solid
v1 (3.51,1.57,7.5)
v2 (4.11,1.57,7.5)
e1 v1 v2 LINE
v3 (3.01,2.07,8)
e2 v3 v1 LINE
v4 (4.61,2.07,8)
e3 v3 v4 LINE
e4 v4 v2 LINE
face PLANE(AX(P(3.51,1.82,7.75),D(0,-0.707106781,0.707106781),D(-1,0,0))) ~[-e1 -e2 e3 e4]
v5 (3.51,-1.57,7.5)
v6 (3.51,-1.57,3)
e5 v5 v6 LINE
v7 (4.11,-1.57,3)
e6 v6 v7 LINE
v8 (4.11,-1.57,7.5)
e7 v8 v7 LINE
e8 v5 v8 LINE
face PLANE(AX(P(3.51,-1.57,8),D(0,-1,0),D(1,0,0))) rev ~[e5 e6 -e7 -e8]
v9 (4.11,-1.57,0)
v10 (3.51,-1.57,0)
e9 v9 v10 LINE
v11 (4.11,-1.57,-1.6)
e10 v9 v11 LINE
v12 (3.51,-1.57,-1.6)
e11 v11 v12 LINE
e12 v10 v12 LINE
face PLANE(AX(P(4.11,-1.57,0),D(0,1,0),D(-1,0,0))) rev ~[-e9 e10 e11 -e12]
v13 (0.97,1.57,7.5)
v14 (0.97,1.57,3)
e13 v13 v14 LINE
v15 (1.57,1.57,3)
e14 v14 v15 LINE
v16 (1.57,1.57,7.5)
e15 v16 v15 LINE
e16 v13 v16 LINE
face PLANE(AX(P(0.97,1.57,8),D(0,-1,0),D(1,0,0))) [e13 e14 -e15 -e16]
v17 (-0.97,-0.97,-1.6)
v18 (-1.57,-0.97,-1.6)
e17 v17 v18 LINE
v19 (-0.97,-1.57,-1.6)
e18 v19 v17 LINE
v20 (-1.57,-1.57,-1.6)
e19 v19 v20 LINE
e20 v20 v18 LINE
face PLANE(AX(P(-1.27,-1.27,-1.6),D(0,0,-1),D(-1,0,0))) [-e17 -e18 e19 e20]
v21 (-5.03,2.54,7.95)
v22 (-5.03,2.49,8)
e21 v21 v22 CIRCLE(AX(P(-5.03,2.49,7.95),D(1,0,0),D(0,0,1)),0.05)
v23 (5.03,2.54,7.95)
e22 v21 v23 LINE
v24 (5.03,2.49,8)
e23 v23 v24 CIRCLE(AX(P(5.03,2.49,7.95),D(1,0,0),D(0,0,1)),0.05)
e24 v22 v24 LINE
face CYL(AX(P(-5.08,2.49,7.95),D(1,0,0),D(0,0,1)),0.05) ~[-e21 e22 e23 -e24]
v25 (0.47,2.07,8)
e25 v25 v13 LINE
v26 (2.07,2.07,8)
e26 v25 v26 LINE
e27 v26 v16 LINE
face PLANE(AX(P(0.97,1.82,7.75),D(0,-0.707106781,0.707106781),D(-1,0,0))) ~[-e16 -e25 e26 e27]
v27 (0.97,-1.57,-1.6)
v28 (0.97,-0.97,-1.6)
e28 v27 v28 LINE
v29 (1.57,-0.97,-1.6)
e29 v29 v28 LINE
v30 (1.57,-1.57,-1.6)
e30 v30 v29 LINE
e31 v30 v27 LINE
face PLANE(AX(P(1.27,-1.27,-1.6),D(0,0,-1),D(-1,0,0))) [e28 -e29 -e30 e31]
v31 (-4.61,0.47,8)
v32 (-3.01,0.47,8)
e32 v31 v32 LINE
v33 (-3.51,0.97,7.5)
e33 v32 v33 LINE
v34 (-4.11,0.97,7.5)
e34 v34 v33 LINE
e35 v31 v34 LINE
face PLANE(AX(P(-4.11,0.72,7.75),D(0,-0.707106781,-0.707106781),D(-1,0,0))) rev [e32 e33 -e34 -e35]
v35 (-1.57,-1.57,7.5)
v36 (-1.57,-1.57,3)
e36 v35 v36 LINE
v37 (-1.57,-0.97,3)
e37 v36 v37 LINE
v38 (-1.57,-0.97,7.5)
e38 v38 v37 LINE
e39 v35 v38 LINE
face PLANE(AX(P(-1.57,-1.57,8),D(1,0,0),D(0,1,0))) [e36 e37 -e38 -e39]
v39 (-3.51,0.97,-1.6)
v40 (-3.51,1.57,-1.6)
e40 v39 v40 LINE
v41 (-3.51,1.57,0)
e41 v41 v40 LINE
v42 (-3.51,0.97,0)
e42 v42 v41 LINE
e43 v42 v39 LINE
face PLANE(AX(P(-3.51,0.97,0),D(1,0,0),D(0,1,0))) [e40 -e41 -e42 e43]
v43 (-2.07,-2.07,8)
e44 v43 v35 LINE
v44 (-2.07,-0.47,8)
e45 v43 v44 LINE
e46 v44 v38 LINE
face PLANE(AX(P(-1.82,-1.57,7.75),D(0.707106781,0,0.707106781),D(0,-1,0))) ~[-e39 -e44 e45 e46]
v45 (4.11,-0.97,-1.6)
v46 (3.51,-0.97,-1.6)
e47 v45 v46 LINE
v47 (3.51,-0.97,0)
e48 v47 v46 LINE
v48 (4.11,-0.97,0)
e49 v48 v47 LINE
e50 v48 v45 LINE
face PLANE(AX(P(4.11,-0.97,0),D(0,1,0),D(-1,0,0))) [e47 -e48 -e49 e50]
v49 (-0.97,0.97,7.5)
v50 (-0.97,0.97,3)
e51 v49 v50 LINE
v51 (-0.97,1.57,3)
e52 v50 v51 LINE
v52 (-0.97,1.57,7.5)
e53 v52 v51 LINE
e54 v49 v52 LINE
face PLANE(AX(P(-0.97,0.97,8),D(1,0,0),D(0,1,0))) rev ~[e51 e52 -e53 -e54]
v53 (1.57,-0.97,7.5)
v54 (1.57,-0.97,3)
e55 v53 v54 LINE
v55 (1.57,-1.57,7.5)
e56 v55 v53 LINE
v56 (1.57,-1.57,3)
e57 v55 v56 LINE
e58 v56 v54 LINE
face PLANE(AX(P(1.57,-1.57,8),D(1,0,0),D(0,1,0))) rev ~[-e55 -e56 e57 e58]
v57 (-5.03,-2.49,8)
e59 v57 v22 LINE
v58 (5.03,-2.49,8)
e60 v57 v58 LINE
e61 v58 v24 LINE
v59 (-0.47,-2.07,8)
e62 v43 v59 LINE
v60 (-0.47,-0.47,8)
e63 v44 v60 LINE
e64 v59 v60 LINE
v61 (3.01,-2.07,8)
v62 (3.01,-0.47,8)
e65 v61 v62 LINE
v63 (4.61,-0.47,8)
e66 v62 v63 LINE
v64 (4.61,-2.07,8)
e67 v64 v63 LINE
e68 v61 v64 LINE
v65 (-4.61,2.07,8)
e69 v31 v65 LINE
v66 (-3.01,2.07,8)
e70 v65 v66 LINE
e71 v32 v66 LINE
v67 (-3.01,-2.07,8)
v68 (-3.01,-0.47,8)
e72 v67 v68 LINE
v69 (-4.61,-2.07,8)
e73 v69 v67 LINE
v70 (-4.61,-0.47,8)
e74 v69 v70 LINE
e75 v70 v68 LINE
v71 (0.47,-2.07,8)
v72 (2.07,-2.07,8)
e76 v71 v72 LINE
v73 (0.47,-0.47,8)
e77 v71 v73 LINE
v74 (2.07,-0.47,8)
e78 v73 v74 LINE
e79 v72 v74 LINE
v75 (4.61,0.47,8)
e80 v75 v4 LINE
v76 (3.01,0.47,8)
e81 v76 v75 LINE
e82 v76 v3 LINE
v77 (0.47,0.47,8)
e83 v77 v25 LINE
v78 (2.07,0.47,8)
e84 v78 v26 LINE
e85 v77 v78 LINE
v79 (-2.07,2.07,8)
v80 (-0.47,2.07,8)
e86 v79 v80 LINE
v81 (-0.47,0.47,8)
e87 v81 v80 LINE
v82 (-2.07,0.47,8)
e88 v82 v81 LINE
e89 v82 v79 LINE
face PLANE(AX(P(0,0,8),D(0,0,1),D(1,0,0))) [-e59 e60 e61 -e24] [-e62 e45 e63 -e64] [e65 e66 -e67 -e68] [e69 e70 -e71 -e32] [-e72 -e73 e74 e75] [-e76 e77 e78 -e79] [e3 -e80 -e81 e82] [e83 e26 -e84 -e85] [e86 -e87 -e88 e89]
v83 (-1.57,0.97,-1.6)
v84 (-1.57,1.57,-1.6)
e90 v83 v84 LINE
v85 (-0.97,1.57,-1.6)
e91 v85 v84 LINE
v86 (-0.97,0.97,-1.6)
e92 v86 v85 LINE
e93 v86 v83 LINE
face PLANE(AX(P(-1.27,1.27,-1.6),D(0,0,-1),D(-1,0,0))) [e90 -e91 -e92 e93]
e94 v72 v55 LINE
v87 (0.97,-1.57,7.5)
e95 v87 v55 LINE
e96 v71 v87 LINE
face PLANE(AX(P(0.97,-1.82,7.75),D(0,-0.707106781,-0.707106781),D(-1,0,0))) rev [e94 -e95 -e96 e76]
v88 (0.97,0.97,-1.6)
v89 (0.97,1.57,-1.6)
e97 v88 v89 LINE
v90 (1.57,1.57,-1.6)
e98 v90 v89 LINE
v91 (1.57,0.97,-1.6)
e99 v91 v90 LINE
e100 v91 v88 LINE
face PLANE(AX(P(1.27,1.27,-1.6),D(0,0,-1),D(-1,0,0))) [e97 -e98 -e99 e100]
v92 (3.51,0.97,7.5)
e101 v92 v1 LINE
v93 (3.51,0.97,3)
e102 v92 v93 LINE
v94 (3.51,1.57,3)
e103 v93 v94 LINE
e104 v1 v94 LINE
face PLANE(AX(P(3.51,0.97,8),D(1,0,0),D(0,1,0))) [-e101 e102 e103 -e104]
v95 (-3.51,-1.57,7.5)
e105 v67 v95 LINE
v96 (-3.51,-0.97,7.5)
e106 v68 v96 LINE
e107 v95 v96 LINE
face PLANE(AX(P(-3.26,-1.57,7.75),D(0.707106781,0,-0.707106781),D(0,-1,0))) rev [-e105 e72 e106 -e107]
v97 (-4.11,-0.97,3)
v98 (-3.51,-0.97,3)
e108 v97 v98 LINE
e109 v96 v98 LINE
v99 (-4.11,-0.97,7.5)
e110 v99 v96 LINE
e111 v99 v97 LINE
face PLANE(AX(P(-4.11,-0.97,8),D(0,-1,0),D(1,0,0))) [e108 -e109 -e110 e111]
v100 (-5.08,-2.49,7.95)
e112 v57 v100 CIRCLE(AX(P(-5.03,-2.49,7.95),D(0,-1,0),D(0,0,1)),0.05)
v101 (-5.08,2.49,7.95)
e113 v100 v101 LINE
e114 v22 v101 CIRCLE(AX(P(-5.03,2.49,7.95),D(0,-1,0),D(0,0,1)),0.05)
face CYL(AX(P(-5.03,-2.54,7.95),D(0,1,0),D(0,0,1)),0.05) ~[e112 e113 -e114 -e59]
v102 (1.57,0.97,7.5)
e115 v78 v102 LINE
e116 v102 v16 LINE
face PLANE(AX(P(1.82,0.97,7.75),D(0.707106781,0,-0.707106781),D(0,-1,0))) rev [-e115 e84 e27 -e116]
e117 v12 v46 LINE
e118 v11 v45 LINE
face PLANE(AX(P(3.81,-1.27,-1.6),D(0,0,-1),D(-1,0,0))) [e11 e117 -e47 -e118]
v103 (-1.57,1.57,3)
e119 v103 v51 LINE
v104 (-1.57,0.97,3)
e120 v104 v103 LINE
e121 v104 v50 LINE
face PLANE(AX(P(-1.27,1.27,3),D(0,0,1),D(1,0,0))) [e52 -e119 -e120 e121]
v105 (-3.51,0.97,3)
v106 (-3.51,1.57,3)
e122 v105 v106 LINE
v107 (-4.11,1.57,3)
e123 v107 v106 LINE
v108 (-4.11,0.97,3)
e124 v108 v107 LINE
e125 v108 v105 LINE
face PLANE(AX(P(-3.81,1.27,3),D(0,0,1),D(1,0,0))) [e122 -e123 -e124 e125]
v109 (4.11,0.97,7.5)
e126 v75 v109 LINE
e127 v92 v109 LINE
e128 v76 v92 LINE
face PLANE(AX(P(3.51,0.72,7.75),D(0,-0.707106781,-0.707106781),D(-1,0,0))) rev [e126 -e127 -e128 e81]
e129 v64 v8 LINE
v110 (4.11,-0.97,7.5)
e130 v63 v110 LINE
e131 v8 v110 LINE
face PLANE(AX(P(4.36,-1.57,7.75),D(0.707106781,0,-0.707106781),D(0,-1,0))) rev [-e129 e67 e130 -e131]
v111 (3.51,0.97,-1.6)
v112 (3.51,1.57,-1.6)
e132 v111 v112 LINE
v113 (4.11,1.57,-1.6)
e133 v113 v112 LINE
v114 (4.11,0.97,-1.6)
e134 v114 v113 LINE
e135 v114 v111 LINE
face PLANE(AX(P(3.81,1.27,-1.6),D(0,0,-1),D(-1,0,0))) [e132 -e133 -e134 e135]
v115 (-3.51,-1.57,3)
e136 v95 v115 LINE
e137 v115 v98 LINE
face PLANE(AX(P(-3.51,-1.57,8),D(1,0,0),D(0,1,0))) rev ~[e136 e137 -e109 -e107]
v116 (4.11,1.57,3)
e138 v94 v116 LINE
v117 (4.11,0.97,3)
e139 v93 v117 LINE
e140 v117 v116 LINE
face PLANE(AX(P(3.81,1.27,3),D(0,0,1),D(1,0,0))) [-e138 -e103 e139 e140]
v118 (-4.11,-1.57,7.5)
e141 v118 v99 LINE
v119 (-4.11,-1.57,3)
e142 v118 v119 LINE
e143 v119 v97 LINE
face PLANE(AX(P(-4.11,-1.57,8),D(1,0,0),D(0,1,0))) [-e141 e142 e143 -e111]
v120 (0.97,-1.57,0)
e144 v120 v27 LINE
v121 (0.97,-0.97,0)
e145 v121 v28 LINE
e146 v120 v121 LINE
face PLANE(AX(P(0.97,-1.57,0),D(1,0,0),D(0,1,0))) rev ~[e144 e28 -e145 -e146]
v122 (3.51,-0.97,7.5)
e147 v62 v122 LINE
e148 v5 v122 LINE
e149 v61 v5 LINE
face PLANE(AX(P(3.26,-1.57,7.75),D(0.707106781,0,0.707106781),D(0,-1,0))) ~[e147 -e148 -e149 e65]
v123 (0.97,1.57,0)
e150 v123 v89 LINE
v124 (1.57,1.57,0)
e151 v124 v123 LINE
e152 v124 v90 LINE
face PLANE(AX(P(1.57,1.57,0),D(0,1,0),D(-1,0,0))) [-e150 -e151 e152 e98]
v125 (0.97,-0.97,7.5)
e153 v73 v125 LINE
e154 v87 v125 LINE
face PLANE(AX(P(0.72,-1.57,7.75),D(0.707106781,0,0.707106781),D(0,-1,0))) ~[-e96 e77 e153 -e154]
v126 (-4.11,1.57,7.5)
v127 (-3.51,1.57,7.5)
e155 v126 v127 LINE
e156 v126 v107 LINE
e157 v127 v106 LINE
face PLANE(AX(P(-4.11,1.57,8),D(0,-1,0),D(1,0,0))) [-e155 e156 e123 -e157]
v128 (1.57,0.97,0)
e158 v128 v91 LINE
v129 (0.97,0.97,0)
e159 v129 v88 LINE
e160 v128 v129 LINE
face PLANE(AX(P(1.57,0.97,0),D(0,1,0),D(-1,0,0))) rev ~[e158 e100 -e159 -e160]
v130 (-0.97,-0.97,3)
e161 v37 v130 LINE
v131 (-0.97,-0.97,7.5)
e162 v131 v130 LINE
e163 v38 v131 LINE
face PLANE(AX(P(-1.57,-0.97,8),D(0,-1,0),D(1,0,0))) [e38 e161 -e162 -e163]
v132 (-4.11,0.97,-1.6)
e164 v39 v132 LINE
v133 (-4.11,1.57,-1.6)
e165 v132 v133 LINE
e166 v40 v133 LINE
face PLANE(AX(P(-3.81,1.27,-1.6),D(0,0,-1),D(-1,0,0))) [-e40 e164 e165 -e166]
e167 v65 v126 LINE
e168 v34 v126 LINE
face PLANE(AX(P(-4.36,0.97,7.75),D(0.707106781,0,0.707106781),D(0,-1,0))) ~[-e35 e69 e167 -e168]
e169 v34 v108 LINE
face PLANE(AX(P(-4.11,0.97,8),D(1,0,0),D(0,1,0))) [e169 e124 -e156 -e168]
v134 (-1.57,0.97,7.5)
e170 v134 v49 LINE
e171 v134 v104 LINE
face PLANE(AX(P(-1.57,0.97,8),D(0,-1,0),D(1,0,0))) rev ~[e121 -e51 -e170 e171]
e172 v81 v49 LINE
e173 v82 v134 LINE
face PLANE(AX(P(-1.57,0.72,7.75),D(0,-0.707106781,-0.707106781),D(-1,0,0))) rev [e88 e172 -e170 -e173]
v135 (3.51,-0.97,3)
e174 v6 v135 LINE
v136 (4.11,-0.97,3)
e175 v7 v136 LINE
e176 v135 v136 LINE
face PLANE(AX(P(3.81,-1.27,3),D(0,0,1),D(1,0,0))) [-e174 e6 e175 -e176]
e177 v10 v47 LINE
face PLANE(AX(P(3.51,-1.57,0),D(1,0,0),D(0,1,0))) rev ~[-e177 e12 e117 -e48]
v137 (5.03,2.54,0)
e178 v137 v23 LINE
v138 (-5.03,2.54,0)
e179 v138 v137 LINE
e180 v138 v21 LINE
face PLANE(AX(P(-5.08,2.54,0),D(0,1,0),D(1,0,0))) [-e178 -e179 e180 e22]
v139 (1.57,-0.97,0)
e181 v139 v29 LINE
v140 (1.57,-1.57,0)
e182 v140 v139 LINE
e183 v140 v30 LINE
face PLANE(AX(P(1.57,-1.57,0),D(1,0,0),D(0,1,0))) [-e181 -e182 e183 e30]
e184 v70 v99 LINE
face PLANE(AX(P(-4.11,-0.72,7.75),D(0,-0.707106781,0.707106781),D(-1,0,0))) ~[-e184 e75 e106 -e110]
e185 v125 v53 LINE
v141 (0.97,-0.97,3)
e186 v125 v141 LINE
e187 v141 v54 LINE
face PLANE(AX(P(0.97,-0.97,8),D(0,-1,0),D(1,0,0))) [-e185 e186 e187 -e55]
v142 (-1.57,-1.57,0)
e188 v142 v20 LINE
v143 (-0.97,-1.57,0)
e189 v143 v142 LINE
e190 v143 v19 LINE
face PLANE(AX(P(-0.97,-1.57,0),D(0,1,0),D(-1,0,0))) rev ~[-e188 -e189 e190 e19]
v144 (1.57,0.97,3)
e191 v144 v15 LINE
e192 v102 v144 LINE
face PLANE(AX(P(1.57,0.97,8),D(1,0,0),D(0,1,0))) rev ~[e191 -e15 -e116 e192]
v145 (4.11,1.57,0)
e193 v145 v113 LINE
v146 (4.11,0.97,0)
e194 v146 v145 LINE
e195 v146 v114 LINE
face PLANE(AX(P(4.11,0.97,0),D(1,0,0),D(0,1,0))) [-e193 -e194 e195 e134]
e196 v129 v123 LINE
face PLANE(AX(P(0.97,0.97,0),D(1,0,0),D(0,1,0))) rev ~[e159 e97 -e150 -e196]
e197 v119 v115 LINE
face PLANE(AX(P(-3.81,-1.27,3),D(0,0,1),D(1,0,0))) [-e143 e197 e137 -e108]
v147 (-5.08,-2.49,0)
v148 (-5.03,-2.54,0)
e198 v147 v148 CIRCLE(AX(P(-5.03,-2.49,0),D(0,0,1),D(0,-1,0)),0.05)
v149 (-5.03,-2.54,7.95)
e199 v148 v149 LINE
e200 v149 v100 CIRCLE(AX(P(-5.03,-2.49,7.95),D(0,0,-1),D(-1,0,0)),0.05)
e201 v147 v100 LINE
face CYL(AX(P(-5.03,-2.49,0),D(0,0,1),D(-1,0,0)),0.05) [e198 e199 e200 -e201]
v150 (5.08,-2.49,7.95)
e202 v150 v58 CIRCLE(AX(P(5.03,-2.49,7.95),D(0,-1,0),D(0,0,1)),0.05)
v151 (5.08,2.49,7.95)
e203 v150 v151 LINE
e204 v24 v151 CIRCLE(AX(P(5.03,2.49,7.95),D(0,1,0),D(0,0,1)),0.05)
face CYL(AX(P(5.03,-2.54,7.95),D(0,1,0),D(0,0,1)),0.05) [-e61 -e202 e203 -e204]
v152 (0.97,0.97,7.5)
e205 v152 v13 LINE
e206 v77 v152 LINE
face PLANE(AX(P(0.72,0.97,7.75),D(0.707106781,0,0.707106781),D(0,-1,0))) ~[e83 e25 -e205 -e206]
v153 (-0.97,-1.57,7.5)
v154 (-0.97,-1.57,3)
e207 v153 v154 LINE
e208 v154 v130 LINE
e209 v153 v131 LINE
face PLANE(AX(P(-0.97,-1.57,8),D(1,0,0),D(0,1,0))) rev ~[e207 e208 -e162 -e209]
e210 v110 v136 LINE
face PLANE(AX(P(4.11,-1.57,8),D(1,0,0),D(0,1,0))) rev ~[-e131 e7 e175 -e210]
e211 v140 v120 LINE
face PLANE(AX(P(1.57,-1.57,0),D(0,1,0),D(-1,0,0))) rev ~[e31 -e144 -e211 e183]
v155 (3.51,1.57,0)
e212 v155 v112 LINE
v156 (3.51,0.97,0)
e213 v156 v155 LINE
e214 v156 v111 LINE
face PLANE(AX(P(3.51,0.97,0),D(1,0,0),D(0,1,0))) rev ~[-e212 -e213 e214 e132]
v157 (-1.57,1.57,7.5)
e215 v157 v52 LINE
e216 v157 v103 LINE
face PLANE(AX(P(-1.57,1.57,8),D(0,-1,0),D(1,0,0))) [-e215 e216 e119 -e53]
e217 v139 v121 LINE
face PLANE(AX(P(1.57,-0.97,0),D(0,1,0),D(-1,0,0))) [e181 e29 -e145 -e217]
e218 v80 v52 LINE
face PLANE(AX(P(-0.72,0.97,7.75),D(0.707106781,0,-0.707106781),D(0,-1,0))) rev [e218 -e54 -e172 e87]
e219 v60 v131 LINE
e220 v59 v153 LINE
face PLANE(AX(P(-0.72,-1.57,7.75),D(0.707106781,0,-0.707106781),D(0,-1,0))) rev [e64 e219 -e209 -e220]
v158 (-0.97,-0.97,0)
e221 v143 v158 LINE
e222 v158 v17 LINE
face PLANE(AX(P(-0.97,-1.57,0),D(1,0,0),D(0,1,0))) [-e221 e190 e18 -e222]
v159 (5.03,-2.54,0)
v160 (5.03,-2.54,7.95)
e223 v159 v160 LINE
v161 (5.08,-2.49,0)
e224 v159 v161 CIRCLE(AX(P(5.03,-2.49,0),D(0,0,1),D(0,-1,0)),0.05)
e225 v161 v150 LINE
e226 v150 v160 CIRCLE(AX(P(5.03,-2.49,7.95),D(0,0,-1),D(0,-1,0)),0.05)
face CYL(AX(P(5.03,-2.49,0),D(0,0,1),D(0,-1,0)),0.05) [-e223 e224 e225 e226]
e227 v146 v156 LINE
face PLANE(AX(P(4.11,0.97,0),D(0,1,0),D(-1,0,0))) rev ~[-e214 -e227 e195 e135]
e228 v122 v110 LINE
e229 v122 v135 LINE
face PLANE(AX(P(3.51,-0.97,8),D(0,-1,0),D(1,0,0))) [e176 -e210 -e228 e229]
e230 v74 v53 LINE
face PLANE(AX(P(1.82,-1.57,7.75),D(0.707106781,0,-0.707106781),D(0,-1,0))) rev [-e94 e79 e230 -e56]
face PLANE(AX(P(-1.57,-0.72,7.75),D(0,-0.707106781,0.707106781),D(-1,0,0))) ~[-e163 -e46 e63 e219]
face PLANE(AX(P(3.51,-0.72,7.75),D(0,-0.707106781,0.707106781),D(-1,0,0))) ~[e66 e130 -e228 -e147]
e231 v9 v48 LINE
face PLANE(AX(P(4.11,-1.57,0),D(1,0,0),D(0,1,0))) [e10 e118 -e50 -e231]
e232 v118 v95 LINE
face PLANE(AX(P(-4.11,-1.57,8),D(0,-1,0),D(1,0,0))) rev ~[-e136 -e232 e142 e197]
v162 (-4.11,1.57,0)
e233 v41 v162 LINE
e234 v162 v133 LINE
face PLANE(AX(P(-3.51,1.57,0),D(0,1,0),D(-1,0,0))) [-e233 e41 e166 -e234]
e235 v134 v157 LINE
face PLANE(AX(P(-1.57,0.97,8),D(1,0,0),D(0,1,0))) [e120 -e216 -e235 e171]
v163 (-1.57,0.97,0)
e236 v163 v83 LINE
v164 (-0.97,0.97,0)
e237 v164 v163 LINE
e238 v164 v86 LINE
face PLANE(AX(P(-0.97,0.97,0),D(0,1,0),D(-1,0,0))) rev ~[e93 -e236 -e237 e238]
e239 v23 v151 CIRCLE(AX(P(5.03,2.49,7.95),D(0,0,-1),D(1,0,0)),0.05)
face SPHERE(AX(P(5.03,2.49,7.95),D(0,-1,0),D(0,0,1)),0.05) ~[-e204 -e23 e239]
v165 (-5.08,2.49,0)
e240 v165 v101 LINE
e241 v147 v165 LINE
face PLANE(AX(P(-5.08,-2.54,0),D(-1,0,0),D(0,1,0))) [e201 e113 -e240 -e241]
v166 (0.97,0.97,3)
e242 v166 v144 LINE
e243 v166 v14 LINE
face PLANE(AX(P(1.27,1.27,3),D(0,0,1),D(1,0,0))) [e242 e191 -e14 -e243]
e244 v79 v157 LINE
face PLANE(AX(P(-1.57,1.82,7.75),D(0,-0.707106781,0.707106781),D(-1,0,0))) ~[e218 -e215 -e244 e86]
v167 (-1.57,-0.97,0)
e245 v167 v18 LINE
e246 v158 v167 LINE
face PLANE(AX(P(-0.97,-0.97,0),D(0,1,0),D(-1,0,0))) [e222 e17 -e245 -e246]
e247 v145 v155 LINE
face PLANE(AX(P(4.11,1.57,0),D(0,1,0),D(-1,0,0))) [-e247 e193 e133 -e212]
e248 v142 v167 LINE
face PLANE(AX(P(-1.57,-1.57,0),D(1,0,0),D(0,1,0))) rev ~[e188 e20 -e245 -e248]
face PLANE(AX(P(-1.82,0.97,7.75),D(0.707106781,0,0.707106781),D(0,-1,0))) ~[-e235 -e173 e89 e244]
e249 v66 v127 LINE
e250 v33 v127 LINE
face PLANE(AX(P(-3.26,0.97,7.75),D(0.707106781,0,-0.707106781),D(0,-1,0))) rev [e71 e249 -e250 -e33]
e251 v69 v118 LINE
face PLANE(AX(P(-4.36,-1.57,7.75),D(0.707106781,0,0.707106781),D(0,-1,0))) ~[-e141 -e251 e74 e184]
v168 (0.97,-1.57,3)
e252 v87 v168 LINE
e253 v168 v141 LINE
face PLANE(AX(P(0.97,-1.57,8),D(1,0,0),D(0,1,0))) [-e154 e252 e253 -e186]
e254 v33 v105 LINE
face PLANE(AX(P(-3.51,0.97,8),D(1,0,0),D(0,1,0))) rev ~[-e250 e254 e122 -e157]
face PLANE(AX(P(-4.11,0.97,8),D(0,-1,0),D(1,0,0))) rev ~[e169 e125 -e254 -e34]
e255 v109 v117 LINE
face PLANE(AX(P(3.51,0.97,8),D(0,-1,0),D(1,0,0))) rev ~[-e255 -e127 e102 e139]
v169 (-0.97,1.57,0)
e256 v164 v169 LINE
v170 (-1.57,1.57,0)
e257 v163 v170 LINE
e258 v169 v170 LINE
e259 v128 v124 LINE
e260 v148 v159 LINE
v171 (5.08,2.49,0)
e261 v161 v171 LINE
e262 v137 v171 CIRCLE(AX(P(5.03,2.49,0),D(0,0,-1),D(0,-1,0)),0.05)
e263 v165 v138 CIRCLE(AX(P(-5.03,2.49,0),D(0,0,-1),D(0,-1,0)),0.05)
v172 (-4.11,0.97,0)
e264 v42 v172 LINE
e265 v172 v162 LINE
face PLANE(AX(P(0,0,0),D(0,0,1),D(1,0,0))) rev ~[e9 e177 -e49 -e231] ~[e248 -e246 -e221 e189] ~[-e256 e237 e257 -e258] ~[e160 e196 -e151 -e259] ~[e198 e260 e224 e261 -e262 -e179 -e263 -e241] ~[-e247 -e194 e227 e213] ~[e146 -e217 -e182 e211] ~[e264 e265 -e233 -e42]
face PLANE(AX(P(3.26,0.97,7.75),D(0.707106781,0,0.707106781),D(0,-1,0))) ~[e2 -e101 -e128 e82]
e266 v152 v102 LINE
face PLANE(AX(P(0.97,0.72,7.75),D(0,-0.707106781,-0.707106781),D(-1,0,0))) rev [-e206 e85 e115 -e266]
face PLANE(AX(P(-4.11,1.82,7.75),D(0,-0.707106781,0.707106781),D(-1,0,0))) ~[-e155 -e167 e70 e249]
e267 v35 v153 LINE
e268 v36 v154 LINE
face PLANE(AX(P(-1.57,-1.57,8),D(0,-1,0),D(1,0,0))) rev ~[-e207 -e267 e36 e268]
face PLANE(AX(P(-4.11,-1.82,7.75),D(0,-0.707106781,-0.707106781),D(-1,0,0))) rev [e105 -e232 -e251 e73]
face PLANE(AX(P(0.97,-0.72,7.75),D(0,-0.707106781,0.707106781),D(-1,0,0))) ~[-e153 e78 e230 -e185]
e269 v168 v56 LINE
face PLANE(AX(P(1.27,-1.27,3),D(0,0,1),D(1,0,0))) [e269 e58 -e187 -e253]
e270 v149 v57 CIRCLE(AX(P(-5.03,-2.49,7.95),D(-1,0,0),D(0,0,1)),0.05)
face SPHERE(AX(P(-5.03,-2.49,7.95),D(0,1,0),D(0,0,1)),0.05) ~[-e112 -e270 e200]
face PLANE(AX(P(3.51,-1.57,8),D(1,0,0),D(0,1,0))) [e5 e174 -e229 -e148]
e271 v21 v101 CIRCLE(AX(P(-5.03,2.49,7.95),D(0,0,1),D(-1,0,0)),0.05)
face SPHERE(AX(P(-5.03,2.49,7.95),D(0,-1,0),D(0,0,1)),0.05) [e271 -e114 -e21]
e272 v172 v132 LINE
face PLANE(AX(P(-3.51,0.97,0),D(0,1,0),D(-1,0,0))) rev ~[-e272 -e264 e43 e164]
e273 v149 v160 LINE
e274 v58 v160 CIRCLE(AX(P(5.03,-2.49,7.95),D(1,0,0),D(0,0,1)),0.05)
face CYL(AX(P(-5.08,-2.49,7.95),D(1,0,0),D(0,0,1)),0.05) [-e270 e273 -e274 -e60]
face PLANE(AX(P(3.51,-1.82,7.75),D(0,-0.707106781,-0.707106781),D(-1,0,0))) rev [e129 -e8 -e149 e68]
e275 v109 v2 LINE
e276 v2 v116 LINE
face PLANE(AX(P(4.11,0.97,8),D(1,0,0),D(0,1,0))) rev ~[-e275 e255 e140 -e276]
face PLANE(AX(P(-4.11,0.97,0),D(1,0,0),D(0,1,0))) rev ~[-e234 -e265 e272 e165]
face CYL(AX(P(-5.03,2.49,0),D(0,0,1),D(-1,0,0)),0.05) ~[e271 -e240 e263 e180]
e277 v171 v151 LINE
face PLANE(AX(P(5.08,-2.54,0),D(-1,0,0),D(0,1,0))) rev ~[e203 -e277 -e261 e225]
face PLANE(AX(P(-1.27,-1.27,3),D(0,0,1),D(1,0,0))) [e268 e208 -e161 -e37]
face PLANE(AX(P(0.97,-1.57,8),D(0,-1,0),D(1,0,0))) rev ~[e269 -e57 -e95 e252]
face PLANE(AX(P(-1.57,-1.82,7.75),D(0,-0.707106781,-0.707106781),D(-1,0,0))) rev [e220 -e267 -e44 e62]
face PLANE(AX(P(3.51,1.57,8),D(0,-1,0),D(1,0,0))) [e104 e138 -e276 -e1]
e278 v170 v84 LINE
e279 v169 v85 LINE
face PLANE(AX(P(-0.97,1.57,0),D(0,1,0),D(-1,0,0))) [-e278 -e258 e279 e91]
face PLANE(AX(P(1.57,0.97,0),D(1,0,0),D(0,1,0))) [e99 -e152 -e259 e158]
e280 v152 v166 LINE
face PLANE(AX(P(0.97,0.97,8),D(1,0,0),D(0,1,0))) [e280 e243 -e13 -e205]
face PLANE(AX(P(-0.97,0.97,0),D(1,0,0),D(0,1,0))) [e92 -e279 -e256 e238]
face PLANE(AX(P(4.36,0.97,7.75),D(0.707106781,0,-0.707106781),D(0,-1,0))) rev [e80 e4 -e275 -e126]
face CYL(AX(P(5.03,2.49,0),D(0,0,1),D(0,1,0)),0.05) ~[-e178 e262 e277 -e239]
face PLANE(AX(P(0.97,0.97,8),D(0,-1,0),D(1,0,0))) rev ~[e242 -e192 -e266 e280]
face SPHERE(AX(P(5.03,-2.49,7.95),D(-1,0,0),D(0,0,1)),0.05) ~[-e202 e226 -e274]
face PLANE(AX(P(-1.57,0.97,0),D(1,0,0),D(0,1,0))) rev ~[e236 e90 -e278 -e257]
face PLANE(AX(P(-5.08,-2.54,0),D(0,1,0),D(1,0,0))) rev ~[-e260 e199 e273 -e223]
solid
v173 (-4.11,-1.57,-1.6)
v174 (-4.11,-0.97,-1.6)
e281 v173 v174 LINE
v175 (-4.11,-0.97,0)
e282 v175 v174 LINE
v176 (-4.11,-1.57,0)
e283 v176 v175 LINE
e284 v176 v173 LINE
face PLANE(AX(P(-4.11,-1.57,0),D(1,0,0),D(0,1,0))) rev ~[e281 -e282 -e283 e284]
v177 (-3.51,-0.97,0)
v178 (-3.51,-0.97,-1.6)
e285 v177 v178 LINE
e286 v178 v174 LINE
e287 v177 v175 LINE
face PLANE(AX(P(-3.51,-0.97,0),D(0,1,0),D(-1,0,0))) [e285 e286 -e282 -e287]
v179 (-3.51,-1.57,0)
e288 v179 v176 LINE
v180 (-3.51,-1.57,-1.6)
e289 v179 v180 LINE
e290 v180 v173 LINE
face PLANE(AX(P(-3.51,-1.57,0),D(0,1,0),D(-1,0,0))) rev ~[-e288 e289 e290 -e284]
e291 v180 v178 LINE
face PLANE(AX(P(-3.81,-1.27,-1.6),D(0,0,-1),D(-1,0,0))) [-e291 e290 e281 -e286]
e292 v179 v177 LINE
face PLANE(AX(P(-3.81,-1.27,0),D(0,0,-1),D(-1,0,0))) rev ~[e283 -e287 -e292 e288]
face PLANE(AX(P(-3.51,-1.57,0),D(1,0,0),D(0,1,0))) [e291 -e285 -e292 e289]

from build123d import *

# Parameters (mm, degrees)
SKETCH_1_W                  = 10.16
SKETCH_1_H                  = 5.08
EXTRUDE_1_DEPTH             = 8
SKETCH_2_W                  = 0.6
SKETCH_2_H                  = 0.6
CUT_EXTRUDE_1_DEPTH         = 5
SKETCH_3_W                  = 0.6
SKETCH_3_H                  = 0.6
EXTRUDE_2_DEPTH             = 1.6
PATTERN_LINEAR_1_COUNT      = 4
PATTERN_LINEAR_1_PITCH      = 2.54
PATTERN_LINEAR_1_COUNT_DIR2 = 2
PATTERN_LINEAR_1_PITCH_DIR2 = 2.54
CHAMFER_1_SIZE              = 0.5
CHAMFER_2_SIZE              = 0.5
FILLET_1_R                  = 0.05


with BuildPart() as part:
    # 草图1 → 凸台-拉伸1 (new body)
    with BuildSketch(Plane.XY):
        Rectangle(SKETCH_1_W, SKETCH_1_H)
    extrude(amount=EXTRUDE_1_DEPTH)

    # 草图2 → 切除-拉伸1 (cut)
    with BuildSketch(Plane.XY.offset(8)):
        with Locations((1.27, 1.27)):
            Rectangle(SKETCH_2_W, SKETCH_2_H)
        with Locations((-1.27, 1.27)):
            Rectangle(SKETCH_2_W, SKETCH_2_H)
        with Locations((3.81, 1.27)):
            Rectangle(SKETCH_2_W, SKETCH_2_H)
        with Locations((-1.27, -1.27)):
            Rectangle(SKETCH_2_W, SKETCH_2_H)
        with Locations((1.27, -1.27)):
            Rectangle(SKETCH_2_W, SKETCH_2_H)
        with Locations((3.81, -1.27)):
            Rectangle(SKETCH_2_W, SKETCH_2_H)
        with Locations((-3.81, -1.27)):
            Rectangle(SKETCH_2_W, SKETCH_2_H)
        with Locations((-3.81, 1.27)):
            Rectangle(SKETCH_2_W, SKETCH_2_H)
    extrude(amount=-CUT_EXTRUDE_1_DEPTH, mode=Mode.SUBTRACT)


with BuildPart() as body_2:
    # 草图3 → 凸台-拉伸2 (new body)
    with BuildSketch(Plane(origin=(0, 0, 0), x_dir=(-1, 0, 0), z_dir=(0, 0, -1))):
        with Locations((3.81, -1.27)):
            Rectangle(SKETCH_3_W, SKETCH_3_H)
    extrude_2 = extrude(amount=EXTRUDE_2_DEPTH)


with BuildPart() as part_1:
    add(part.part)

    # 阵列(线性)1: Extrude 2 4 × 2
    with Locations(*[(i * PATTERN_LINEAR_1_PITCH, j * PATTERN_LINEAR_1_PITCH_DIR2, 0) for i in range(PATTERN_LINEAR_1_COUNT) for j in range(PATTERN_LINEAR_1_COUNT_DIR2) if (i, j) != (0, 0)]):
        add(extrude_2)

    # 倒角1
    chamfer_1_edges = [part_1.edges().sort_by_distance(p)[0] for p in [
        (4.11, -1.27, 8),
        (3.81, -0.97, 8),
        (3.51, -1.27, 8),
        (3.81, -1.57, 8),
    ]]
    chamfer(chamfer_1_edges, length=CHAMFER_1_SIZE)

    # 倒角2
    chamfer_2_edges = [part_1.edges().sort_by_distance(p)[0] for p in [
        (-0.97, 1.27, 8),
        (-1.27, 1.57, 8),
        (-1.57, 1.27, 8),
        (-1.27, 0.97, 8),
        (1.57, 1.27, 8),
        (1.27, 1.57, 8),
        (0.97, 1.27, 8),
        (1.27, 0.97, 8),
        (-3.81, -0.97, 8),
        (-4.11, -1.27, 8),
        (-3.81, -1.57, 8),
        (-3.51, -1.27, 8),
        (4.11, 1.27, 8),
        (3.81, 1.57, 8),
        (3.51, 1.27, 8),
        (3.81, 0.97, 8),
        (-0.97, -1.27, 8),
        (-1.27, -0.97, 8),
        (-1.57, -1.27, 8),
        (-1.27, -1.57, 8),
        (1.57, -1.27, 8),
        (1.27, -0.97, 8),
        (0.97, -1.27, 8),
        (1.27, -1.57, 8),
        (-3.81, 1.57, 8),
        (-4.11, 1.27, 8),
        (-3.81, 0.97, 8),
        (-3.51, 1.27, 8),
    ]]
    chamfer(chamfer_2_edges, length=CHAMFER_2_SIZE)

    # 圆角1
    fillet_1_edges = [part_1.edges().sort_by_distance(p)[0] for p in [
        (-5.08, 0, 8),
        (0, -2.54, 8),
        (5.08, 0, 8),
        (0, 2.54, 8),
        (5.08, -2.54, 4),
        (-5.08, -2.54, 4),
        (-5.08, 2.54, 4),
        (5.08, 2.54, 4),
    ]]
    fillet(fillet_1_edges, radius=FILLET_1_R)


solid = Compound([body_2.part, part_1.part])
